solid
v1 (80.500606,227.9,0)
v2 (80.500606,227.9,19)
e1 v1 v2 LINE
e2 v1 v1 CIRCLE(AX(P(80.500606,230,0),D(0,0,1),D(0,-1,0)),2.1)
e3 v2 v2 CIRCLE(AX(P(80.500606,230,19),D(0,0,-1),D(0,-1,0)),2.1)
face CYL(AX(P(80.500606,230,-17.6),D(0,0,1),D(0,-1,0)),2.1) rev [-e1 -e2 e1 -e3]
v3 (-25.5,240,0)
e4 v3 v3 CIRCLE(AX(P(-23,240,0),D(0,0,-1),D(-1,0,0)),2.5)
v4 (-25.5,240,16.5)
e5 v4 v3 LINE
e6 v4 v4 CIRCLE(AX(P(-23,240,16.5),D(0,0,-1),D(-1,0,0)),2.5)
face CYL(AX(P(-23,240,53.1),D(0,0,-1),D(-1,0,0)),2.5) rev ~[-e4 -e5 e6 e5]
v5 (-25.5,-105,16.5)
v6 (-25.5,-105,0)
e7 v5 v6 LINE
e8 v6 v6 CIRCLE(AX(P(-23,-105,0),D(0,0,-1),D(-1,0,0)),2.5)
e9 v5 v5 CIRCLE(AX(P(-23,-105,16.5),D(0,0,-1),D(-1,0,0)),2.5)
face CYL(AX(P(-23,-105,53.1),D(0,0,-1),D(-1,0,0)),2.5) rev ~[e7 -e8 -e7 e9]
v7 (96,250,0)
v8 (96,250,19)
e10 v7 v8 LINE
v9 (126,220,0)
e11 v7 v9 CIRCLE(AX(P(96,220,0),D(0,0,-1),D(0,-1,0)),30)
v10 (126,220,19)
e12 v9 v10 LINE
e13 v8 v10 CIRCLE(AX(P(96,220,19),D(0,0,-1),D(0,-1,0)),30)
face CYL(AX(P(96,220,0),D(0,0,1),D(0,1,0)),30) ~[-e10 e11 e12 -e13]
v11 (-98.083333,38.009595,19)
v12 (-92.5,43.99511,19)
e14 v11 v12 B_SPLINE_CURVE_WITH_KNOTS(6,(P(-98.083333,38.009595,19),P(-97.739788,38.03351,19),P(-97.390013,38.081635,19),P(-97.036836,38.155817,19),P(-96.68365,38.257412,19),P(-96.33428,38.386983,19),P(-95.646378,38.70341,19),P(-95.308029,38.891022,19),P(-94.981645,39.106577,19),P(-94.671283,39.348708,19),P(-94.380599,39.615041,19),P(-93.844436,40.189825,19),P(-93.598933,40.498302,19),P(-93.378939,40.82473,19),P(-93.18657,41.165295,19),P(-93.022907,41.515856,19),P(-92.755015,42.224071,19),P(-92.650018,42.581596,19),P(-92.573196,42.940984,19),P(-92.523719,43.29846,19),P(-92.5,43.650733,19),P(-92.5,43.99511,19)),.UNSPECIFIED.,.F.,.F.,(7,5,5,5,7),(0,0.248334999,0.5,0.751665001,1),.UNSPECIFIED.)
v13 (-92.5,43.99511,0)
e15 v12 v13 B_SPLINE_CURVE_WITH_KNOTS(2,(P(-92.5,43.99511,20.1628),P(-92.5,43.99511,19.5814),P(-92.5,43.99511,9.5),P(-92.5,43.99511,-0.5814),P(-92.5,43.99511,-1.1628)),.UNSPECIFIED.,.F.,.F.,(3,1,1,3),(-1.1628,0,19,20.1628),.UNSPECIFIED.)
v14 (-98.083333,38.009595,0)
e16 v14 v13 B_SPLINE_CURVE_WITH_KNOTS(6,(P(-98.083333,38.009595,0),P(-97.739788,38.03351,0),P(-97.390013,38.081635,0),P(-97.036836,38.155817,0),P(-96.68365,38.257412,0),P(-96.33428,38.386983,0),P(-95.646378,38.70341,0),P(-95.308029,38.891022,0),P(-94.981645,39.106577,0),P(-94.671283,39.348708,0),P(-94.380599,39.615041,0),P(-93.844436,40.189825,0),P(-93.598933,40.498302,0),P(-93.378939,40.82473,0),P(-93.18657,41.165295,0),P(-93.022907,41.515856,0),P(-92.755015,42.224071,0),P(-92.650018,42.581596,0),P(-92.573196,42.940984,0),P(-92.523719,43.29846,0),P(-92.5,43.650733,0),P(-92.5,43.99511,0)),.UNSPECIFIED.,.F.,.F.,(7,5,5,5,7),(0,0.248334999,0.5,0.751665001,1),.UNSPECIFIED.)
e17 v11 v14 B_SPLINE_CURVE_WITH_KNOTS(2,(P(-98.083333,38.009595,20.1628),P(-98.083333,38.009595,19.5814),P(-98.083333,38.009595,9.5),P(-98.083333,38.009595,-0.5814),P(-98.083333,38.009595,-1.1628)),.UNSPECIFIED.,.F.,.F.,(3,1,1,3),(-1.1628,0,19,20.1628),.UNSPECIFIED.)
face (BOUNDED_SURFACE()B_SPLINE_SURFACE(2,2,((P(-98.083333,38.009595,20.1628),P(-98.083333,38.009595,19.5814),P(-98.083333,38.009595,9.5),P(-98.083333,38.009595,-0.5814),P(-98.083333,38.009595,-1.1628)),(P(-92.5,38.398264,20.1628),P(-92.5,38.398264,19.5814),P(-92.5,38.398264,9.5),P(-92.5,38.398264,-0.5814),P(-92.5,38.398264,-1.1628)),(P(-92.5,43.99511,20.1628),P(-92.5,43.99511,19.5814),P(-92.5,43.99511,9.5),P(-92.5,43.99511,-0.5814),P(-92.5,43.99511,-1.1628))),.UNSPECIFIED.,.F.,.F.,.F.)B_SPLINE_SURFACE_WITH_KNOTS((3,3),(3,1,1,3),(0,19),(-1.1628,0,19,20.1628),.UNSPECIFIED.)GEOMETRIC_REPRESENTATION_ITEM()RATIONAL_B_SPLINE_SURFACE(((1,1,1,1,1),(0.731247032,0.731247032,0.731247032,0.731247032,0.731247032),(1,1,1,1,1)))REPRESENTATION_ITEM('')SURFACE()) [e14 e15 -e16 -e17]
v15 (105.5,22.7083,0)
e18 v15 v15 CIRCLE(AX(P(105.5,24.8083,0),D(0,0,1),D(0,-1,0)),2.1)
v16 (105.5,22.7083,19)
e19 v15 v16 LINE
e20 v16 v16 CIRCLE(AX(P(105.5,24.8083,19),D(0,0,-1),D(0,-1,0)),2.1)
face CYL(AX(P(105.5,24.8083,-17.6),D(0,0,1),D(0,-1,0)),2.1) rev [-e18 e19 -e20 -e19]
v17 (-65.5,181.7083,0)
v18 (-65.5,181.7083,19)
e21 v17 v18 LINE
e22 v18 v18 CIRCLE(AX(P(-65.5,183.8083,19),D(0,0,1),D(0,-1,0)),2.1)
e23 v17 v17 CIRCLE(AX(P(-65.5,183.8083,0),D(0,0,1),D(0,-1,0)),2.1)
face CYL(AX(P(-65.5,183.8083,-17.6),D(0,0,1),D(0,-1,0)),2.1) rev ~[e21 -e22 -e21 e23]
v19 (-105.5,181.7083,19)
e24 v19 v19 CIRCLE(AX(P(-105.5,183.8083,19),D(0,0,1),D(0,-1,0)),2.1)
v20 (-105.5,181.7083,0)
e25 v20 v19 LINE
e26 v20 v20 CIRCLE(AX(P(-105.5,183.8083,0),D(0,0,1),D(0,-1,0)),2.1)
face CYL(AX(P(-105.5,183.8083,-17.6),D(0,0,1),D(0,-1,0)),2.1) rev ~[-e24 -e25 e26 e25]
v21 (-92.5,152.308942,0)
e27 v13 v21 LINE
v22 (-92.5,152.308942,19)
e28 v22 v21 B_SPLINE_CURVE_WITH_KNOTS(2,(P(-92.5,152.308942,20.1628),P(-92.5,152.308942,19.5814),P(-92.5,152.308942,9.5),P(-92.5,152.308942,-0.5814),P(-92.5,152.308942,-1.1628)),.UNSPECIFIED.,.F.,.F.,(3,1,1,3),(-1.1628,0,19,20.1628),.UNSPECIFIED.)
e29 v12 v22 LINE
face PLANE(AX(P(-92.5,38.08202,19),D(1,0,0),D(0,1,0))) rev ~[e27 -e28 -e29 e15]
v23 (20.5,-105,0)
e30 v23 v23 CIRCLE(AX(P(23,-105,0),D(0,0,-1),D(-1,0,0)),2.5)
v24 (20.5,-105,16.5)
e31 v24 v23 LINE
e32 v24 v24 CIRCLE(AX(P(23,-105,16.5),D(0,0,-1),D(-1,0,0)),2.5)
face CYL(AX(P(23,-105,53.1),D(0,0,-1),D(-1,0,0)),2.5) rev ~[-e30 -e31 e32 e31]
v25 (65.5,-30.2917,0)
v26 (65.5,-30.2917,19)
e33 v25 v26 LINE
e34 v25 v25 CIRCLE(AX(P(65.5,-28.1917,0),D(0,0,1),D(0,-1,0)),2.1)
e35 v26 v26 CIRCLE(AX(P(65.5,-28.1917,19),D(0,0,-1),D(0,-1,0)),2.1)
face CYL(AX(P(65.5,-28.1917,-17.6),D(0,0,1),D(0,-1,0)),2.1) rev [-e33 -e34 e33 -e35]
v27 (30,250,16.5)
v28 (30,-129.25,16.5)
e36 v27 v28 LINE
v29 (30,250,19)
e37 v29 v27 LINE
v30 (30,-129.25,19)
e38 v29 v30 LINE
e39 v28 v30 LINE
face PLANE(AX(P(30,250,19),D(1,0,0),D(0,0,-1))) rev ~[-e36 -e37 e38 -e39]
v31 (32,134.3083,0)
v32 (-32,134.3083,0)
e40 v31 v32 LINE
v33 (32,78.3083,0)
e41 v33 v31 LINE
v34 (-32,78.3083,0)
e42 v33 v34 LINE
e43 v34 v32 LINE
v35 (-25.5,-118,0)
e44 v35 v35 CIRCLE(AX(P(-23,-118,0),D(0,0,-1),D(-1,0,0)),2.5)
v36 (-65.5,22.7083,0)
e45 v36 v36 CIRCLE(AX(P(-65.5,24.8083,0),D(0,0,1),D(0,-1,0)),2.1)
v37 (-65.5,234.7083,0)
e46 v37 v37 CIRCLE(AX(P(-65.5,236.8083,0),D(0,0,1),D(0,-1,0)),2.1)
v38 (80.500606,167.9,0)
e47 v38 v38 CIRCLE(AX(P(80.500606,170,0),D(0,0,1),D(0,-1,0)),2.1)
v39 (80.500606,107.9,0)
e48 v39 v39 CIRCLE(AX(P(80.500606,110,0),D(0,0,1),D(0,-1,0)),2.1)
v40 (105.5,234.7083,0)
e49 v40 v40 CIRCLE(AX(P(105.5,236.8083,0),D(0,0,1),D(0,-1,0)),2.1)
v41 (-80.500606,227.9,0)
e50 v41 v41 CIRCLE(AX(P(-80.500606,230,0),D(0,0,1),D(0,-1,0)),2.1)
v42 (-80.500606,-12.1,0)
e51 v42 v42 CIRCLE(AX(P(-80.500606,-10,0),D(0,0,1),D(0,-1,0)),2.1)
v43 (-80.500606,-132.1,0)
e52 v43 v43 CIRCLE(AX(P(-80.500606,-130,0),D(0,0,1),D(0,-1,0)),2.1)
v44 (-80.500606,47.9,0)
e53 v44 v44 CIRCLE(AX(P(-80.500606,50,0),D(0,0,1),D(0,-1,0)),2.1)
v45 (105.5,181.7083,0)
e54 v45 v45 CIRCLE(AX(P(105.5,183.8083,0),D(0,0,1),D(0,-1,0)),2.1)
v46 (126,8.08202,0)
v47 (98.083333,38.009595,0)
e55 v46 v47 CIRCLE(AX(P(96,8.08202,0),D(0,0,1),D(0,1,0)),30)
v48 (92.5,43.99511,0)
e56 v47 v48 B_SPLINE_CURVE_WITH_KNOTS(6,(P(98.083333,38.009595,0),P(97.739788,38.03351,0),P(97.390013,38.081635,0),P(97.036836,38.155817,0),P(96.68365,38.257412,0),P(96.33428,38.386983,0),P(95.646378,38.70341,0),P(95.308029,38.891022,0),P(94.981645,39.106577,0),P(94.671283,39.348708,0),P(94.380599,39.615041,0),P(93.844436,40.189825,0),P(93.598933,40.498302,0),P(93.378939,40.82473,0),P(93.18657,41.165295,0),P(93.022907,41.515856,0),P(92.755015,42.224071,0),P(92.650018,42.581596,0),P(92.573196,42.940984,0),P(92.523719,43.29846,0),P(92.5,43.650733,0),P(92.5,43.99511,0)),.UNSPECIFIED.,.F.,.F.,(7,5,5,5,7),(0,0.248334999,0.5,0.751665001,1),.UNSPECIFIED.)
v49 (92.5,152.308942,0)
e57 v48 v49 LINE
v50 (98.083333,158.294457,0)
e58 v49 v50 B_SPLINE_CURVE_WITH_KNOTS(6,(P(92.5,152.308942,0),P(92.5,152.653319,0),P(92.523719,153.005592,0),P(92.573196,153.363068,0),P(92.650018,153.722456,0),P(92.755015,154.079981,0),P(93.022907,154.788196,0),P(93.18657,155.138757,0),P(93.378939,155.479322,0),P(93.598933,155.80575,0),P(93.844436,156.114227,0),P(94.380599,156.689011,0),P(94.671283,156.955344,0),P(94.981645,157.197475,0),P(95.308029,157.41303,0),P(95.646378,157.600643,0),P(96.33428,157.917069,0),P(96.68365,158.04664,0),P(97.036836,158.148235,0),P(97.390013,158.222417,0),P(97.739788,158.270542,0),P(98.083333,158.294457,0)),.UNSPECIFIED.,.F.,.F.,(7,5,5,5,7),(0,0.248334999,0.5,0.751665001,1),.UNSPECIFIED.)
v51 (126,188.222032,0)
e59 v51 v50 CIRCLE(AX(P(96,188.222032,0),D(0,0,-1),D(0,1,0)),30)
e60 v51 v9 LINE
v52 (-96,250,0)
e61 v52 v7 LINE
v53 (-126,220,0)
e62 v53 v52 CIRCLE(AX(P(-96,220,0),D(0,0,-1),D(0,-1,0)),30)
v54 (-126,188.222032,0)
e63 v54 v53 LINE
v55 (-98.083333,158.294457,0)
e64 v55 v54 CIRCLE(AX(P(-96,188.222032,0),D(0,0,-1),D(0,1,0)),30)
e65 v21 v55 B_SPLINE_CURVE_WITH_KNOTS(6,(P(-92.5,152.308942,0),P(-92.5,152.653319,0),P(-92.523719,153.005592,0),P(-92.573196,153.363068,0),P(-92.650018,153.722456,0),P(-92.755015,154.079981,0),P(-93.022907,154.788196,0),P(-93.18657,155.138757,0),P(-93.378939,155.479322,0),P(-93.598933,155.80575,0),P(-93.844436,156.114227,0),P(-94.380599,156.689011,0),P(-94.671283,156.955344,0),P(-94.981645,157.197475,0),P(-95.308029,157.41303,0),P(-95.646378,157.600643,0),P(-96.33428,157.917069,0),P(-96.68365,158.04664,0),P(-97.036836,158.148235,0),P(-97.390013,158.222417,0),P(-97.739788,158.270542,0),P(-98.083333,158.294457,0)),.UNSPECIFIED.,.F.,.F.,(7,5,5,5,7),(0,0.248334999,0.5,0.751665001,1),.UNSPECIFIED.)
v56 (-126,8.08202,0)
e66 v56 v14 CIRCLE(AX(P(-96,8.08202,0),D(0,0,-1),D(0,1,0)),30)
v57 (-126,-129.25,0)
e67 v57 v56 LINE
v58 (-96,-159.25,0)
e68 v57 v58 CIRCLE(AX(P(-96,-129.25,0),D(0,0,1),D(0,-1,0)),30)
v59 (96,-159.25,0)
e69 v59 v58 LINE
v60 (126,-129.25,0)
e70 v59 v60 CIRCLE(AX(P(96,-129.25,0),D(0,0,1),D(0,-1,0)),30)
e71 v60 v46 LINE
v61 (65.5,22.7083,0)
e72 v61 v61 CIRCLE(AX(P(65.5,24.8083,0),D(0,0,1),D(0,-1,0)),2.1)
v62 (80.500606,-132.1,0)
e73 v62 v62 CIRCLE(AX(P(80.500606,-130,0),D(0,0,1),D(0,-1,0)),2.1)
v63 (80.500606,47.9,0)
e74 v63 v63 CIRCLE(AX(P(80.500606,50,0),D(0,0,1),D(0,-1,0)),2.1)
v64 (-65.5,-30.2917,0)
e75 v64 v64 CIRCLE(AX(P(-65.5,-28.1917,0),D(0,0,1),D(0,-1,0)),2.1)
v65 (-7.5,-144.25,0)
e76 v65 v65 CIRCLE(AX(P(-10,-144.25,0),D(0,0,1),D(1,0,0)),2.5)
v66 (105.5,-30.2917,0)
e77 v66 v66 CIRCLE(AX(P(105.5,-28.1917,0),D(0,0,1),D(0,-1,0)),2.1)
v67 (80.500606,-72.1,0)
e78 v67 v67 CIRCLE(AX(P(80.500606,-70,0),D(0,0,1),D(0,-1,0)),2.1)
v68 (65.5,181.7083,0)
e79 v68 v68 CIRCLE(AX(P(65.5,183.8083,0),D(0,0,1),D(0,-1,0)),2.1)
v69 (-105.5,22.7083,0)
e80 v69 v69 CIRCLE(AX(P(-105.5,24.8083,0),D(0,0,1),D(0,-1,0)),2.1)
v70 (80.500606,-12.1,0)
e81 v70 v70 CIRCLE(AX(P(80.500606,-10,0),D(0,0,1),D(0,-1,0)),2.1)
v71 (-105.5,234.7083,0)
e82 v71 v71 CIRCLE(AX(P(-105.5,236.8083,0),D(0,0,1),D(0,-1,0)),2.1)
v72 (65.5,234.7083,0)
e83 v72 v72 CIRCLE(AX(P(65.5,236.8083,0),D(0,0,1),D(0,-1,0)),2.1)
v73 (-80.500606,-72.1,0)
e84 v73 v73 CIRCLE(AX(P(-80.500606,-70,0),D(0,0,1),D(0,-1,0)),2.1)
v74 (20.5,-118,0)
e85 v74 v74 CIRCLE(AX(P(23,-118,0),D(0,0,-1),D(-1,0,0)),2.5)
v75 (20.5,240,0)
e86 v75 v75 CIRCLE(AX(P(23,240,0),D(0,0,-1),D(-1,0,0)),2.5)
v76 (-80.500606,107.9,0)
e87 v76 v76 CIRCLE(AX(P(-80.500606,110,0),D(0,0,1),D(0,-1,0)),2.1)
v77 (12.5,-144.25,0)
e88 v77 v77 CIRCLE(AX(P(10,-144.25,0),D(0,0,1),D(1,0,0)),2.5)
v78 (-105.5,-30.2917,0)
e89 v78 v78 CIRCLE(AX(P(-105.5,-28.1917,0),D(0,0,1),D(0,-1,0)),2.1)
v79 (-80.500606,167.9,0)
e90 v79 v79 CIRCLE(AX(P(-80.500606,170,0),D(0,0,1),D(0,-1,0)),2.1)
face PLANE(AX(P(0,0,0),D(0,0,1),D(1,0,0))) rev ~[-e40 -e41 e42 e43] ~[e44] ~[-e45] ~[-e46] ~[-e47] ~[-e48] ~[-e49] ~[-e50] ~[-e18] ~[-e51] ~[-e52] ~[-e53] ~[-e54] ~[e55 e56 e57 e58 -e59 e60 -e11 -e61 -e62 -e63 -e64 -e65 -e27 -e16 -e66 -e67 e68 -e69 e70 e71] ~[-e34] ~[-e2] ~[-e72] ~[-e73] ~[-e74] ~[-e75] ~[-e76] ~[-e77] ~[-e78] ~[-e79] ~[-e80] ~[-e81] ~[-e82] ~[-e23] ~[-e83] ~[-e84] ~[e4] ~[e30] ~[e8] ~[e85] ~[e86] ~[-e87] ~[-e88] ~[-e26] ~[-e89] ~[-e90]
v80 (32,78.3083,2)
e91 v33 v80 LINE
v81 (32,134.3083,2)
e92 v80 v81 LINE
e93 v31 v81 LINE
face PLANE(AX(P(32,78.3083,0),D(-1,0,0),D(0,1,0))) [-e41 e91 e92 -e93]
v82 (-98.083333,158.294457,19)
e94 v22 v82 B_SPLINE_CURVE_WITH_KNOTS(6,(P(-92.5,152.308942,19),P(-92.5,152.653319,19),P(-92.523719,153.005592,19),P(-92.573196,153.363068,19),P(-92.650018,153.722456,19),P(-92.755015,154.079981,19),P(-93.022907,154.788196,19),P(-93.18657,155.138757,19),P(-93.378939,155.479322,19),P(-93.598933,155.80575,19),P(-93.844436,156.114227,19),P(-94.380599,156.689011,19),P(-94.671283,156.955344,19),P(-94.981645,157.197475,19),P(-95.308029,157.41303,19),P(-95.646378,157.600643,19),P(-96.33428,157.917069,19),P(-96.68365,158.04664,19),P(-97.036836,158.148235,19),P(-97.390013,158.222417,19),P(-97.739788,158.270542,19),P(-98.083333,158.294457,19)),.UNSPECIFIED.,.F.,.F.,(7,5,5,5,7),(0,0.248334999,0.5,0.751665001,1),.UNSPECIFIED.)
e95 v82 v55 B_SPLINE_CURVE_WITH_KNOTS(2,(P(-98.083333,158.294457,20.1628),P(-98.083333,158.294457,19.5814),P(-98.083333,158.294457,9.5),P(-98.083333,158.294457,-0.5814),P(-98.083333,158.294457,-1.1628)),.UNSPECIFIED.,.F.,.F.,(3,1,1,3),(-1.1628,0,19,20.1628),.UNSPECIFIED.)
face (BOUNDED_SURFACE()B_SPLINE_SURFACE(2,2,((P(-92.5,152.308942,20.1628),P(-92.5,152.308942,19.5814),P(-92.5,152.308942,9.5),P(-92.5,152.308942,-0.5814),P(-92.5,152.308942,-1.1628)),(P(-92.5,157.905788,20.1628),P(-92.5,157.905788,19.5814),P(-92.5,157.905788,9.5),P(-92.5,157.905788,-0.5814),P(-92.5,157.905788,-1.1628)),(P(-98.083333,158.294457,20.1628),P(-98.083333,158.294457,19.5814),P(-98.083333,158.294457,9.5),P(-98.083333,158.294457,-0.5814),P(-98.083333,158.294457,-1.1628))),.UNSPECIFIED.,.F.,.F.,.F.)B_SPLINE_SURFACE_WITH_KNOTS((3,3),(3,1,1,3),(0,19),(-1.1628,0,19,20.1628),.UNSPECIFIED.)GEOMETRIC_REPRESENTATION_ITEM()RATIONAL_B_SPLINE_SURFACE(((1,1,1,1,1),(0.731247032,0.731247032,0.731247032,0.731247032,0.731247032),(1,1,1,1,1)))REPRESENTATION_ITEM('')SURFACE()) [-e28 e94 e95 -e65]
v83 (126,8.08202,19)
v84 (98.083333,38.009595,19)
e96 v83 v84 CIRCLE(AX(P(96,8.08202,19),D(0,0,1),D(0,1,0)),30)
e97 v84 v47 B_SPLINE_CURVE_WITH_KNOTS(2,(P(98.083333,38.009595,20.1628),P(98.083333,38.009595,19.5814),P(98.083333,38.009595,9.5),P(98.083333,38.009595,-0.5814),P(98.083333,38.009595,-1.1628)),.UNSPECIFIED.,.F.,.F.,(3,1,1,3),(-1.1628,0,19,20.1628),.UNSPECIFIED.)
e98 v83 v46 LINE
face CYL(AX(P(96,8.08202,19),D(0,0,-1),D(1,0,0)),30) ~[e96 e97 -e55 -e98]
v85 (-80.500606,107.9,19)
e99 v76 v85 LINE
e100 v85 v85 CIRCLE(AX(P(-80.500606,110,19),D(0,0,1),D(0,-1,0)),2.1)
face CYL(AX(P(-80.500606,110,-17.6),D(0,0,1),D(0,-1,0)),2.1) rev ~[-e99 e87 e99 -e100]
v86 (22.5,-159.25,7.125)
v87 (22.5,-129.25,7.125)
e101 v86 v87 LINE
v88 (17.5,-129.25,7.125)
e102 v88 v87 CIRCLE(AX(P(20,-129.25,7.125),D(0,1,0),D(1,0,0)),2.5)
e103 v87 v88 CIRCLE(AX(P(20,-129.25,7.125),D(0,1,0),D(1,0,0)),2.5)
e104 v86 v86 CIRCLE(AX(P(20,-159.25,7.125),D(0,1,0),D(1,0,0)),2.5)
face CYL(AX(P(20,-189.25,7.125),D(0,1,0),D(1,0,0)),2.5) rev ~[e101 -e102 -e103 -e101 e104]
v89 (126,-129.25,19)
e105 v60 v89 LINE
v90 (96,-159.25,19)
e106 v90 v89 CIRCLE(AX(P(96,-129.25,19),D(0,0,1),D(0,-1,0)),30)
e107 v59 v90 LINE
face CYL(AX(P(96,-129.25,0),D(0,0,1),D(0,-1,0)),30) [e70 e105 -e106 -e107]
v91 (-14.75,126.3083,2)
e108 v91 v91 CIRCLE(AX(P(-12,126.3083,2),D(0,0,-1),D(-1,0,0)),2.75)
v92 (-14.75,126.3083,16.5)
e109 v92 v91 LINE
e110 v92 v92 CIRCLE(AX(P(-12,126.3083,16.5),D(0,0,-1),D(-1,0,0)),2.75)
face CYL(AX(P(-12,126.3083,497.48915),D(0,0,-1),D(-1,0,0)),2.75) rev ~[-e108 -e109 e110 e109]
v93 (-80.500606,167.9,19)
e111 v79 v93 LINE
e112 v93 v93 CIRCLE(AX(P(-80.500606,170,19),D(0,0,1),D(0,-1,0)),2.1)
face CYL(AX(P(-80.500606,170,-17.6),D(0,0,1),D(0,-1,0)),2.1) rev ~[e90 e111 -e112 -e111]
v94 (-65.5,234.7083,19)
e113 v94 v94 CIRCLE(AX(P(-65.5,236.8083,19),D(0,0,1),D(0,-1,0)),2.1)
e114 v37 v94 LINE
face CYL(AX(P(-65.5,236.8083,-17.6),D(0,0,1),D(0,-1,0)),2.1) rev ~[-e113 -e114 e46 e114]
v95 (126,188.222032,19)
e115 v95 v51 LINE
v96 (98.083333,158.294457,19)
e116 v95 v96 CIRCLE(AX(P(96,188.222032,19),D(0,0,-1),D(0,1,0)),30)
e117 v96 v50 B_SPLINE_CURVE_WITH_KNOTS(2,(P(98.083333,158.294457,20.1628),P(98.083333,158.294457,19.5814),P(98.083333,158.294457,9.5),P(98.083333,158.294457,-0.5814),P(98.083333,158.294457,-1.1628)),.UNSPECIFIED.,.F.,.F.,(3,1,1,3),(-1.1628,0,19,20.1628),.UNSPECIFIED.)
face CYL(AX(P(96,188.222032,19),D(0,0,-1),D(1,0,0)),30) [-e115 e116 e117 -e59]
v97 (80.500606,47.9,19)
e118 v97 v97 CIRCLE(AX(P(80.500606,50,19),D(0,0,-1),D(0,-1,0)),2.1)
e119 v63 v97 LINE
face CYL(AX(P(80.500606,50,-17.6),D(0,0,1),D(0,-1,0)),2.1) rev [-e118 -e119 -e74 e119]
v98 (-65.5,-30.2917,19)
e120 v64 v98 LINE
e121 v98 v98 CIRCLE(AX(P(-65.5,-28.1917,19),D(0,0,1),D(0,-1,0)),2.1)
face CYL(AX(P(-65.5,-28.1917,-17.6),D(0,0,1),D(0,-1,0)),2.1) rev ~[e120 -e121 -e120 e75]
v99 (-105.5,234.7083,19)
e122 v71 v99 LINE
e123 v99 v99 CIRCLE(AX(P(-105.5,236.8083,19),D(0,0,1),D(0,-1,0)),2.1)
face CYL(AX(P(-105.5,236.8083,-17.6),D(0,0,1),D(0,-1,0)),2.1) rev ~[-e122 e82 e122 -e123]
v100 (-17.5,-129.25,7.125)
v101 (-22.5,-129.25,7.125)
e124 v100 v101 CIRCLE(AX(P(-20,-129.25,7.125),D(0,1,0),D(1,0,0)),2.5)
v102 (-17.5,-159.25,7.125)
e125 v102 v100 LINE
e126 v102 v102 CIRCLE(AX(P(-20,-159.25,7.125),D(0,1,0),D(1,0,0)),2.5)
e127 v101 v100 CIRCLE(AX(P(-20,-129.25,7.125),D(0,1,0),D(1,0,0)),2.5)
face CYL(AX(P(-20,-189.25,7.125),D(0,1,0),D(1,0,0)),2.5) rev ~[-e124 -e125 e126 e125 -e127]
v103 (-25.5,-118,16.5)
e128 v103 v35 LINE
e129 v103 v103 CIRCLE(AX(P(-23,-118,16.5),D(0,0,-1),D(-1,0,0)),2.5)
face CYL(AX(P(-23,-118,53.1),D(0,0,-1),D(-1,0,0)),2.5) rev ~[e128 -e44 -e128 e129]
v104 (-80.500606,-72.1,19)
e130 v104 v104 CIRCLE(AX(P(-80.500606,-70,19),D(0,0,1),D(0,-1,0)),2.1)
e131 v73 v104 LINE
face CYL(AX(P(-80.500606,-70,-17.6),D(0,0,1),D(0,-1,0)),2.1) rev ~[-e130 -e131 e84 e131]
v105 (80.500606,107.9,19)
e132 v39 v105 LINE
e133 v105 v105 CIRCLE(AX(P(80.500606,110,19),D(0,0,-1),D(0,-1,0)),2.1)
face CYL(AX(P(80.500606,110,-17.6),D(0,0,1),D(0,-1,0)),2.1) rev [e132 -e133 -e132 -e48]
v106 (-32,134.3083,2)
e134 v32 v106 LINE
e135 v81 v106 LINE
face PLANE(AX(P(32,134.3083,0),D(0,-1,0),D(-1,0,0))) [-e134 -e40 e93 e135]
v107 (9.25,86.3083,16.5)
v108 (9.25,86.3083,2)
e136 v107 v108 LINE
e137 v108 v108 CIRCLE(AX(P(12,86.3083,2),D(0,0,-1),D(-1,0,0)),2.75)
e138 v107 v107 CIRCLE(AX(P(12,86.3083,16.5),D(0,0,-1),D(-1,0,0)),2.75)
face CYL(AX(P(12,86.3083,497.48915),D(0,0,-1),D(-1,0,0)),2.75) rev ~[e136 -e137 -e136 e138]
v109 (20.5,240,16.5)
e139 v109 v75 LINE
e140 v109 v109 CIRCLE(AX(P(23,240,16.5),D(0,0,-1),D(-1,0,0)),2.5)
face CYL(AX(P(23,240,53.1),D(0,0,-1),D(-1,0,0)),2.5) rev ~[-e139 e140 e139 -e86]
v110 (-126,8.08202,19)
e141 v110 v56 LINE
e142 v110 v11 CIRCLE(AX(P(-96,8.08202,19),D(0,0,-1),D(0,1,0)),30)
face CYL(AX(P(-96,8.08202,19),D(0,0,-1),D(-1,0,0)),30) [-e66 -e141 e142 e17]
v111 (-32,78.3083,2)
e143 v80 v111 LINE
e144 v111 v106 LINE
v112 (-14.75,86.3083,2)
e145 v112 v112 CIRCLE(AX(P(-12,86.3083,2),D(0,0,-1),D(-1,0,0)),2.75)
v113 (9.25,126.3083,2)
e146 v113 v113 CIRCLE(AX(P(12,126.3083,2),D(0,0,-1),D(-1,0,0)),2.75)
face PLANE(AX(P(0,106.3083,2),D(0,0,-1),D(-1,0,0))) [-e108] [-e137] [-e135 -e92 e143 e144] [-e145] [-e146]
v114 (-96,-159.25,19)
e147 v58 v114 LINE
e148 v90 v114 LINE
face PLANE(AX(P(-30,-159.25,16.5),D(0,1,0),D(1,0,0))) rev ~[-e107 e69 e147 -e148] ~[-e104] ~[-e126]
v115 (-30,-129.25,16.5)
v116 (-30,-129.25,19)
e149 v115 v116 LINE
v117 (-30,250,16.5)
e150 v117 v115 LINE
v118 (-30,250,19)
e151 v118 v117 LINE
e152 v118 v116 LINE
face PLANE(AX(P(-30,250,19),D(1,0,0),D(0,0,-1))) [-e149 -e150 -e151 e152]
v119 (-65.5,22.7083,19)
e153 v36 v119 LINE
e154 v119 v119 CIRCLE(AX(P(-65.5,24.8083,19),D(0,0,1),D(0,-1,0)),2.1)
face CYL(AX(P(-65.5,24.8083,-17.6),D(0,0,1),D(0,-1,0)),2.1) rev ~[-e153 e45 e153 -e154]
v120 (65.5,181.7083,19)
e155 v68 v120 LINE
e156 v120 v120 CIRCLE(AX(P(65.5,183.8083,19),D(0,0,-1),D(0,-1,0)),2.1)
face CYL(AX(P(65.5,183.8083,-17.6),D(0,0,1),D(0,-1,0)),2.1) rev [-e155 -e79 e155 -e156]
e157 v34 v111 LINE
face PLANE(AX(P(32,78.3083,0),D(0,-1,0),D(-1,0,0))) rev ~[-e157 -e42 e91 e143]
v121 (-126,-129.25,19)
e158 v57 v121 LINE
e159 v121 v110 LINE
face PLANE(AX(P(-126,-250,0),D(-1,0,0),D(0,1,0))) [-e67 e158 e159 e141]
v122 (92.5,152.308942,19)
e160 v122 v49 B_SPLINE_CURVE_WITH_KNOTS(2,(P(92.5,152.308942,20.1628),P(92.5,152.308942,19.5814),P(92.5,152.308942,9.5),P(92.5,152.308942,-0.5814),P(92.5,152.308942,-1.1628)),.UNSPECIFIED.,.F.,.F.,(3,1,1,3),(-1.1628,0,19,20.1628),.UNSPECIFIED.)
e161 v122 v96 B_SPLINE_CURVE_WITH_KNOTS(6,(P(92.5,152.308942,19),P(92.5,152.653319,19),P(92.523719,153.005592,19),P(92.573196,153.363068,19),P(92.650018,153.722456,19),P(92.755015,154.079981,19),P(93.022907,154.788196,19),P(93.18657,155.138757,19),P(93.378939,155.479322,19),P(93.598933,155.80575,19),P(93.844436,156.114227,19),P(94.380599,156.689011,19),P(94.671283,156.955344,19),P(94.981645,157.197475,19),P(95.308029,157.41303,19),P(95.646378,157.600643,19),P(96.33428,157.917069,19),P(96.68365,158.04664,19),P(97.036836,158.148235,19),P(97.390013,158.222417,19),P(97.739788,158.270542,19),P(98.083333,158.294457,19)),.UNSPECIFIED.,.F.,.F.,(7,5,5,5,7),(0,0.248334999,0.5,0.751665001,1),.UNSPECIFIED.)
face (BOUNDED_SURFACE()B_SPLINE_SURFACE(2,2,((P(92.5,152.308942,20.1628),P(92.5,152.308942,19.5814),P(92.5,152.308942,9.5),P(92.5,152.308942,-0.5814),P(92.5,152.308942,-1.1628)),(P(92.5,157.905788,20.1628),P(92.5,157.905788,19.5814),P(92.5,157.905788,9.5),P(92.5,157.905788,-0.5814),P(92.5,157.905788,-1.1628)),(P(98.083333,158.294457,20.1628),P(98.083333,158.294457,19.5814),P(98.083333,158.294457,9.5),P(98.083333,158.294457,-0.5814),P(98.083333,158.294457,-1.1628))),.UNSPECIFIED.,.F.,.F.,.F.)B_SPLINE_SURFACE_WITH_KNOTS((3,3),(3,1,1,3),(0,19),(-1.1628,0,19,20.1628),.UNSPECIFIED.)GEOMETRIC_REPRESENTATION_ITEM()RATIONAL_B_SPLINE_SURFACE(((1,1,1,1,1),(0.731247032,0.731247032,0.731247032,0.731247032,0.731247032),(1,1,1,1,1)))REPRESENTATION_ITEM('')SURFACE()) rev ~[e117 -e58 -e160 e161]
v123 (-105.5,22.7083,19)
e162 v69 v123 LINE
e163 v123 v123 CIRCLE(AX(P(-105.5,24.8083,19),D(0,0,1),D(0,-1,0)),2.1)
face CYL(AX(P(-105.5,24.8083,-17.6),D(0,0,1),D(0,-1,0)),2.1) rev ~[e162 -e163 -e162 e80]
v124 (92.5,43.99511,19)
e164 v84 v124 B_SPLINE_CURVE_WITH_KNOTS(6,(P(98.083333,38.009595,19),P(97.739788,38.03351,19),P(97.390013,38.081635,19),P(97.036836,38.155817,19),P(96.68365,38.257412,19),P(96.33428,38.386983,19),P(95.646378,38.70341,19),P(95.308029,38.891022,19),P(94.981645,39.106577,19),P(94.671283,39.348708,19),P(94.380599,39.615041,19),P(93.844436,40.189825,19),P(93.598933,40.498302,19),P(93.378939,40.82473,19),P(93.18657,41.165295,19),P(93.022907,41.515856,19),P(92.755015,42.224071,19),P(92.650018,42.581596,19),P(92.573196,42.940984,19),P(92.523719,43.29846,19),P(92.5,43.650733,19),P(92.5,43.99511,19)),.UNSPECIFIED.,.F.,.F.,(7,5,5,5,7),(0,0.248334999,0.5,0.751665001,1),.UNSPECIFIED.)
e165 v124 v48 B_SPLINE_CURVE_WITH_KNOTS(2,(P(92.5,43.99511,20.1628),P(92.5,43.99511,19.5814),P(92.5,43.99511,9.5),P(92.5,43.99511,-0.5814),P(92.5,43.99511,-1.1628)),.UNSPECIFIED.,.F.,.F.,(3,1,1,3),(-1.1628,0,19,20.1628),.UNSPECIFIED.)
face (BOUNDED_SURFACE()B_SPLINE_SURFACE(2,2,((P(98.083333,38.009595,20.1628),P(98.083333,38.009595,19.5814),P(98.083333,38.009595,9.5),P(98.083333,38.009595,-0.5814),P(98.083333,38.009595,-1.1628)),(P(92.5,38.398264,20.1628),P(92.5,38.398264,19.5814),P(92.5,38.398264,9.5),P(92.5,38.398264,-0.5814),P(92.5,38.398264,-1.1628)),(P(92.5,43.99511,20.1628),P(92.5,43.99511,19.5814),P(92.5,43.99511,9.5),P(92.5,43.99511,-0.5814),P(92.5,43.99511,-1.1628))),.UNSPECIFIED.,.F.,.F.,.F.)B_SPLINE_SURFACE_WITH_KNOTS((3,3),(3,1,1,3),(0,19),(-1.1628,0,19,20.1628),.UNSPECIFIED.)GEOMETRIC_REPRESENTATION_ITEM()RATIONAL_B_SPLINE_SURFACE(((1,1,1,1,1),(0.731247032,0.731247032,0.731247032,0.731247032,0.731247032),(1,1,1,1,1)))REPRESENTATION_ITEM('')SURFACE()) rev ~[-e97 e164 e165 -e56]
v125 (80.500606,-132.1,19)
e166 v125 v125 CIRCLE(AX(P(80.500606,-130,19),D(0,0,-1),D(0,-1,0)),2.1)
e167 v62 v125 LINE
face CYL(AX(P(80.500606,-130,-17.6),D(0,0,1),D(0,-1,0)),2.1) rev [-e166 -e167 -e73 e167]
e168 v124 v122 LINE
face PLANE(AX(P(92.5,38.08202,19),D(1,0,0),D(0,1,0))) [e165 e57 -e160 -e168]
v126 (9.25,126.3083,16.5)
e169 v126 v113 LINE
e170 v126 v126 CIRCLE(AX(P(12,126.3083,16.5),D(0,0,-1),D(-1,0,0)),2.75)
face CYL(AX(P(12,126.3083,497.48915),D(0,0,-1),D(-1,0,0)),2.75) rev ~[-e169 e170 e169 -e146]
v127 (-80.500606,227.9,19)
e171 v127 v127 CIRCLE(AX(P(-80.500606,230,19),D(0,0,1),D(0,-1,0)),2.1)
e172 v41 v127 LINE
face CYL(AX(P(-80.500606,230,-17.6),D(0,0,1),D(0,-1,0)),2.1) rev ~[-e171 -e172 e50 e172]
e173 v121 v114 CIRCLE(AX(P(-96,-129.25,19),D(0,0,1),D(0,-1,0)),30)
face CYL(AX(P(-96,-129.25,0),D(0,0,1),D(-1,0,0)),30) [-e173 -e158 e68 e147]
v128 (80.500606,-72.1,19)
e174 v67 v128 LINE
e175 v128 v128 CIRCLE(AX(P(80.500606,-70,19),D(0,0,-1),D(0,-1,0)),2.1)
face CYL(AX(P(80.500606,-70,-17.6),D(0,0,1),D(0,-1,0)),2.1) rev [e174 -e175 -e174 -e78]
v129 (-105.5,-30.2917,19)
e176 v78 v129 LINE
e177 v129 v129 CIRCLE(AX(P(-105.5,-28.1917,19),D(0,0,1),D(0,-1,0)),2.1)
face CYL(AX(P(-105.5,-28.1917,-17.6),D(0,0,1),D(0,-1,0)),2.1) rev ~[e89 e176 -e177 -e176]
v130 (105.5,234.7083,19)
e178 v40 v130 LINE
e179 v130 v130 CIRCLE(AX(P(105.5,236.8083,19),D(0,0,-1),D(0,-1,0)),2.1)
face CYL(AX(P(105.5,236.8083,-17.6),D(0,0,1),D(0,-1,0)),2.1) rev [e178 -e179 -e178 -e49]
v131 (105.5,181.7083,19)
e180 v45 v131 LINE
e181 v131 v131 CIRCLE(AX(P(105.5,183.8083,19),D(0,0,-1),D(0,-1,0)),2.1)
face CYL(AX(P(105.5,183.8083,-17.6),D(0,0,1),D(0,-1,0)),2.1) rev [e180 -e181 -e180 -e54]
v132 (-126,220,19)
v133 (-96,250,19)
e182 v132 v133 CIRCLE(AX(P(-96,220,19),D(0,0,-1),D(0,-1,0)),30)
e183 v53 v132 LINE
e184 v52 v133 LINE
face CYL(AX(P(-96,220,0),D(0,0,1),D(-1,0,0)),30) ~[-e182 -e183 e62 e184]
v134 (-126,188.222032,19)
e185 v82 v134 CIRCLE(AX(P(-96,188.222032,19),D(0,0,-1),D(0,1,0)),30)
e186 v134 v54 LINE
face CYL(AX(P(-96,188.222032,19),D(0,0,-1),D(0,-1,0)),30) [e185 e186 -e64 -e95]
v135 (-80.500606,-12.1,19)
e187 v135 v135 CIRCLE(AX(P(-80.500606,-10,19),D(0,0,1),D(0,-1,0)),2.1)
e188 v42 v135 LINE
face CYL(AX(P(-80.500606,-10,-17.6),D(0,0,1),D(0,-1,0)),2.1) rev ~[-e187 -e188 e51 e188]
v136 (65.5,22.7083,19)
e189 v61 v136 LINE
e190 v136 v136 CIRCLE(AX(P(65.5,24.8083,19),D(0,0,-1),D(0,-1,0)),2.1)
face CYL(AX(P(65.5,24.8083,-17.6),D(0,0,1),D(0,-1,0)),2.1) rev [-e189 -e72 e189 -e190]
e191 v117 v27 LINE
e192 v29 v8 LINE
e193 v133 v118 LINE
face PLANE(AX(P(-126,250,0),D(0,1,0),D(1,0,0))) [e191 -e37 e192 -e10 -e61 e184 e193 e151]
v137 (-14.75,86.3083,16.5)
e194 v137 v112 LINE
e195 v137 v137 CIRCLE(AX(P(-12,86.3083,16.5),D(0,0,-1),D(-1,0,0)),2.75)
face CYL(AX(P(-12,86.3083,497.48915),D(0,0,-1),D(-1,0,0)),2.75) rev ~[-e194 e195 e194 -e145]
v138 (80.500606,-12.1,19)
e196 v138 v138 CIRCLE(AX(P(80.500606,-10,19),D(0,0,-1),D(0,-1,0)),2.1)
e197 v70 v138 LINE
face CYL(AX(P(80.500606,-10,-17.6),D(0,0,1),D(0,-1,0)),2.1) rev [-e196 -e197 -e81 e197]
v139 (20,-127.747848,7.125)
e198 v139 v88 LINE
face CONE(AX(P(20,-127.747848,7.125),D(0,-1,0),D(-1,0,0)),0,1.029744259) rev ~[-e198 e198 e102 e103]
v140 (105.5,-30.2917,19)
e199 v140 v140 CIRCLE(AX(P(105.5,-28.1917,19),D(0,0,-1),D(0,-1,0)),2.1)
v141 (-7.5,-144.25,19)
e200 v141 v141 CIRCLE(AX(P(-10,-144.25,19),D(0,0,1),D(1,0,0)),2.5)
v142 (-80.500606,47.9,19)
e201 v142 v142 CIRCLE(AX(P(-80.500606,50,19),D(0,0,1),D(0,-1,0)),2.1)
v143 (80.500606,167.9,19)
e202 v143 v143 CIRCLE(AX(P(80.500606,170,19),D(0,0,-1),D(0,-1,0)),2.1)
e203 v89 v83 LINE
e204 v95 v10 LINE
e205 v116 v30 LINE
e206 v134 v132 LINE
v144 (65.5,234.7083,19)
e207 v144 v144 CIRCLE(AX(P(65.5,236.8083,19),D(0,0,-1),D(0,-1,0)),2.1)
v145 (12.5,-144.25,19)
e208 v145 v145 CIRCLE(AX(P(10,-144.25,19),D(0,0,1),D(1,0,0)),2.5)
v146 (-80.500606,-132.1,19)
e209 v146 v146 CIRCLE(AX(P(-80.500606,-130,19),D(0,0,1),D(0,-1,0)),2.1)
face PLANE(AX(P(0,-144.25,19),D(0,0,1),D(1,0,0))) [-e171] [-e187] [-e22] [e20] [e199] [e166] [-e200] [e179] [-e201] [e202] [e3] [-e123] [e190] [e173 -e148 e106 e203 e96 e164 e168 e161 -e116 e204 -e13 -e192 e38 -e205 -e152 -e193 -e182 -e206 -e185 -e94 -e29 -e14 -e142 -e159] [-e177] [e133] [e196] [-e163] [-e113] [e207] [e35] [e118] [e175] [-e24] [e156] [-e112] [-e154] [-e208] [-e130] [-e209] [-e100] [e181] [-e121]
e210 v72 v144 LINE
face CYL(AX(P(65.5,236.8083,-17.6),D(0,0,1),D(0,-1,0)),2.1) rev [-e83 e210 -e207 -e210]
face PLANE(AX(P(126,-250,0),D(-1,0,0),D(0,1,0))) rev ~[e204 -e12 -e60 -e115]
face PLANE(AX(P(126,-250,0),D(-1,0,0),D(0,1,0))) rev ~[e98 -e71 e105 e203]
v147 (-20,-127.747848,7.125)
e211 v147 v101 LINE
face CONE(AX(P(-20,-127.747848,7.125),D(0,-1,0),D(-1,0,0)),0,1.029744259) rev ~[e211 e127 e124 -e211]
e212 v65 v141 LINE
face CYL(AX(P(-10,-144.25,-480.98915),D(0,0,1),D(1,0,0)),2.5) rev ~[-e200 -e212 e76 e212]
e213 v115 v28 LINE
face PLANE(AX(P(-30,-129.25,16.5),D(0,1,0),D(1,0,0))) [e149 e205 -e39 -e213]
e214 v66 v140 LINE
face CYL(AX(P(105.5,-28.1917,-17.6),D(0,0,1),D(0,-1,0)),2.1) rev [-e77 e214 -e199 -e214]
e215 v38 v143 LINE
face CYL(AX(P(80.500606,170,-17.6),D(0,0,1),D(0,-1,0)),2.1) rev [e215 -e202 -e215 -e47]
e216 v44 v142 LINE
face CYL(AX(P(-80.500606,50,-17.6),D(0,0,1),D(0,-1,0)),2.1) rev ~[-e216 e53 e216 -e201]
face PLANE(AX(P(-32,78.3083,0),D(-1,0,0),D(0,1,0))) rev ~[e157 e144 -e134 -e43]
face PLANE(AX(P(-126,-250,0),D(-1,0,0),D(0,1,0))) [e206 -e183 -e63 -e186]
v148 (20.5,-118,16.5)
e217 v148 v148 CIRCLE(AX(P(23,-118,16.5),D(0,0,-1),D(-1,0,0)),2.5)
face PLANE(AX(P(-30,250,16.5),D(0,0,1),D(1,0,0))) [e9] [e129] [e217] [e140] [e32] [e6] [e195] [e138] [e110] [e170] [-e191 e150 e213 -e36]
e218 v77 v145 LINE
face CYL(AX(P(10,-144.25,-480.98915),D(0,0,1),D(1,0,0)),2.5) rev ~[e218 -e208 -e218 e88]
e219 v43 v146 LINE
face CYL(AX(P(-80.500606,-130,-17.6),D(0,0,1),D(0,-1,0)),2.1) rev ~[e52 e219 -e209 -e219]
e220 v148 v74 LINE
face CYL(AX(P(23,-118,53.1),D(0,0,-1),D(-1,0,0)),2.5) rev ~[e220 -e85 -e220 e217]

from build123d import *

# Parameters (mm, degrees)
SCHIZZO1_W                       = 252
SCHIZZO1_H                       = 500
ESTRUSIONE_ESTRUSIONE1_DEPTH     = 19
SCHIZZO3_W                       = 60
SCHIZZO3_H                       = 2.5
TAGLIO_ESTRUSIONE1_DEPTH         = 501
TAP_DRILL_FOR_M5_TAP2_AT_2_COUNT = 2
TAP_DRILL_FOR_M5_TAP2_AT_2_PITCH = 60
TAP_DRILL_FOR_M5_TAP2_AT_3_COUNT = 2
TAP_DRILL_FOR_M5_TAP2_AT_3_PITCH = 120
TAP_DRILL_FOR_M5_TAP2_AT_4_COUNT = 2
TAP_DRILL_FOR_M5_TAP2_AT_4_PITCH = 180
TAP_DRILL_FOR_M5_TAP2_AT_5_COUNT = 2
TAP_DRILL_FOR_M5_TAP2_AT_5_PITCH = 240
TAP_DRILL_FOR_M5_TAP2_AT_6_COUNT = 2
TAP_DRILL_FOR_M5_TAP2_AT_6_PITCH = 300
TAP_DRILL_FOR_M5_TAP2_AT_7_COUNT = 2
TAP_DRILL_FOR_M5_TAP2_AT_7_PITCH = 360
TAP_DRILL_FOR_M5_TAP1_AT_2_COUNT = 2
TAP_DRILL_FOR_M5_TAP1_AT_2_PITCH = 40
TAP_DRILL_FOR_M5_TAP1_AT_3_COUNT = 2
TAP_DRILL_FOR_M5_TAP1_AT_3_PITCH = 53
TAP_DRILL_FOR_M5_TAP1_AT_4_COUNT = 2
TAP_DRILL_FOR_M5_TAP1_AT_4_PITCH = 66.400301204
TAP_DRILL_FOR_M5_TAP1_AT_5_COUNT = 2
TAP_DRILL_FOR_M5_TAP1_AT_5_PITCH = 265.000000001
TAP_DRILL_FOR_M5_TAP1_AT_6_COUNT = 2
TAP_DRILL_FOR_M5_TAP1_AT_6_PITCH = 268.001865666
TAP_DRILL_FOR_M5_TAP1_AT_7_COUNT = 2
TAP_DRILL_FOR_M5_TAP1_AT_7_PITCH = 215.740584963
TAP_DRILL_FOR_M5_TAP1_AT_8_COUNT = 2
TAP_DRILL_FOR_M5_TAP1_AT_8_PITCH = 212.000000001
TAP_DRILL_FOR_M6_TAP4_D          = 5
TAP_DRILL_FOR_M6_TAP4_DEPTH      = 36.6
TAP_DRILL_FOR_M6_TAP4_TIP        = 1.502151548
SKETCH16_W                       = 252
SKETCH16_H                       = 158.679931771
CUT_EXTRUDE1_DEPTH               = 28
SKETCH26_W                       = 60
SKETCH26_H                       = 30
BOSS_EXTRUDE1_DEPTH              = 2.5
M5_CLEARANCE_HOLE1_D             = 5.5
TAP_DRILL_FOR_M6_TAP2_D          = 5
TAP_DRILL_FOR_M6_TAP2_DEPTH      = 30
TAP_DRILL_FOR_M6_TAP2_TIP        = 1.502151548
TAP_DRILL_FOR_M6_TAP3_D          = 5
SKETCH27_W                       = 33.5
SKETCH27_H                       = 120.140011943
CUT_EXTRUDE2_DEPTH               = 76.991082214
FILLET1_R                        = 30
FILLET2_R                        = 30
FILLET3_R                        = 6
SKETCH28_W                       = 64
SKETCH28_H                       = 56
CUT_EXTRUDE3_DEPTH               = 2


with BuildPart() as part:
    # Schizzo1 → Estrusione-Estrusione1 (new body)
    with BuildSketch(Plane.XY):
        Rectangle(SCHIZZO1_W, SCHIZZO1_H)
    extrude(amount=ESTRUSIONE_ESTRUSIONE1_DEPTH)

    # Schizzo3 → Taglio-Estrusione1 (cut, through all)
    with BuildSketch(Plane(origin=(0, 250, 0), x_dir=(1, 0, 0), z_dir=(0, 1, 0))):
        with Locations((0, -17.75)):
            Rectangle(SCHIZZO3_W, SCHIZZO3_H)
    extrude(amount=-TAGLIO_ESTRUSIONE1_DEPTH, mode=Mode.SUBTRACT)

    # Sketch8 → Tap Drill for M5 Tap2 (revolve, cut)
    with BuildSketch(Plane(origin=(80.500605801, -130, 19), x_dir=(0, -1, 0), z_dir=(1, 0, 0))):
        Polygon((0, 0), (0, 37.8618073), (2.1, 36.6), (2.1, 0), align=None)
    tap_drill_for_m5_tap2 = revolve(axis=Axis((80.500605801, -130, 25.35), (0, 0, -1)), mode=Mode.SUBTRACT)

    # Tap Drill for M5 Tap2 at 2: Tap Drill for M5 Tap2 ×2
    with Locations(*[(0, i * TAP_DRILL_FOR_M5_TAP2_AT_2_PITCH, 0) for i in range(1, TAP_DRILL_FOR_M5_TAP2_AT_2_COUNT)]):
        add(tap_drill_for_m5_tap2, mode=Mode.SUBTRACT)

    # Tap Drill for M5 Tap2 at 3: Tap Drill for M5 Tap2 ×2
    with Locations(*[(0, i * TAP_DRILL_FOR_M5_TAP2_AT_3_PITCH, 0) for i in range(1, TAP_DRILL_FOR_M5_TAP2_AT_3_COUNT)]):
        add(tap_drill_for_m5_tap2, mode=Mode.SUBTRACT)

    # Tap Drill for M5 Tap2 at 4: Tap Drill for M5 Tap2 ×2
    with Locations(*[(0, i * TAP_DRILL_FOR_M5_TAP2_AT_4_PITCH, 0) for i in range(1, TAP_DRILL_FOR_M5_TAP2_AT_4_COUNT)]):
        add(tap_drill_for_m5_tap2, mode=Mode.SUBTRACT)

    # Tap Drill for M5 Tap2 at 5: Tap Drill for M5 Tap2 ×2
    with Locations(*[(0, i * TAP_DRILL_FOR_M5_TAP2_AT_5_PITCH, 0) for i in range(1, TAP_DRILL_FOR_M5_TAP2_AT_5_COUNT)]):
        add(tap_drill_for_m5_tap2, mode=Mode.SUBTRACT)

    # Tap Drill for M5 Tap2 at 6: Tap Drill for M5 Tap2 ×2
    with Locations(*[(0, i * TAP_DRILL_FOR_M5_TAP2_AT_6_PITCH, 0) for i in range(1, TAP_DRILL_FOR_M5_TAP2_AT_6_COUNT)]):
        add(tap_drill_for_m5_tap2, mode=Mode.SUBTRACT)

    # Tap Drill for M5 Tap2 at 7: Tap Drill for M5 Tap2 ×2
    with Locations(*[(0, i * TAP_DRILL_FOR_M5_TAP2_AT_7_PITCH, 0) for i in range(1, TAP_DRILL_FOR_M5_TAP2_AT_7_COUNT)]):
        add(tap_drill_for_m5_tap2, mode=Mode.SUBTRACT)

    # Sketch15 → Tap Drill for M5 Tap1 (revolve, cut)
    with BuildSketch(Plane(origin=(105.5, 236.808299653, 19), x_dir=(0, -1, 0), z_dir=(1, 0, 0))):
        Polygon((0, 0), (0, 37.8618073), (2.1, 36.6), (2.1, 0), align=None)
    tap_drill_for_m5_tap1 = revolve(axis=Axis((105.5, 236.808299653, 25.35), (0, 0, -1)), mode=Mode.SUBTRACT)

    # Tap Drill for M5 Tap1 at 2: Tap Drill for M5 Tap1 ×2
    with Locations(*[(-i * TAP_DRILL_FOR_M5_TAP1_AT_2_PITCH, 0, 0) for i in range(1, TAP_DRILL_FOR_M5_TAP1_AT_2_COUNT)]):
        add(tap_drill_for_m5_tap1, mode=Mode.SUBTRACT)

    # Tap Drill for M5 Tap1 at 3: Tap Drill for M5 Tap1 ×2
    with Locations(*[(0, -i * TAP_DRILL_FOR_M5_TAP1_AT_3_PITCH, 0) for i in range(1, TAP_DRILL_FOR_M5_TAP1_AT_3_COUNT)]):
        add(tap_drill_for_m5_tap1, mode=Mode.SUBTRACT)

    # Tap Drill for M5 Tap1 at 4: Tap Drill for M5 Tap1 ×2
    with Locations(*[Vector(-0.602406906, -0.79818915, 0) * (i * TAP_DRILL_FOR_M5_TAP1_AT_4_PITCH) for i in range(1, TAP_DRILL_FOR_M5_TAP1_AT_4_COUNT)]):
        add(tap_drill_for_m5_tap1, mode=Mode.SUBTRACT)

    # Tap Drill for M5 Tap1 at 5: Tap Drill for M5 Tap1 ×2
    with Locations(*[(0, -i * TAP_DRILL_FOR_M5_TAP1_AT_5_PITCH, 0) for i in range(1, TAP_DRILL_FOR_M5_TAP1_AT_5_COUNT)]):
        add(tap_drill_for_m5_tap1, mode=Mode.SUBTRACT)

    # Tap Drill for M5 Tap1 at 6: Tap Drill for M5 Tap1 ×2
    with Locations(*[Vector(-0.149252692, -0.988799087, 0) * (i * TAP_DRILL_FOR_M5_TAP1_AT_6_PITCH) for i in range(1, TAP_DRILL_FOR_M5_TAP1_AT_6_COUNT)]):
        add(tap_drill_for_m5_tap1, mode=Mode.SUBTRACT)

    # Tap Drill for M5 Tap1 at 7: Tap Drill for M5 Tap1 ×2
    with Locations(*[Vector(-0.185407859, -0.982661654, 0) * (i * TAP_DRILL_FOR_M5_TAP1_AT_7_PITCH) for i in range(1, TAP_DRILL_FOR_M5_TAP1_AT_7_COUNT)]):
        add(tap_drill_for_m5_tap1, mode=Mode.SUBTRACT)

    # Tap Drill for M5 Tap1 at 8: Tap Drill for M5 Tap1 ×2
    with Locations(*[(0, -i * TAP_DRILL_FOR_M5_TAP1_AT_8_PITCH, 0) for i in range(1, TAP_DRILL_FOR_M5_TAP1_AT_8_COUNT)]):
        add(tap_drill_for_m5_tap1, mode=Mode.SUBTRACT)

    # Tap Drill for M6 Tap4
    with Locations(Plane.XY.offset(16.5)):
        with Locations((23, -118), (23, -105), (-23, -118), (-23, -105), (23, 240), (-23, 240)):
            Hole(TAP_DRILL_FOR_M6_TAP4_D / 2, depth=TAP_DRILL_FOR_M6_TAP4_DEPTH)
            with Locations((0, 0, -(TAP_DRILL_FOR_M6_TAP4_DEPTH + TAP_DRILL_FOR_M6_TAP4_TIP / 2))):  # 118° drill point
                Cone(0, TAP_DRILL_FOR_M6_TAP4_D / 2, TAP_DRILL_FOR_M6_TAP4_TIP, mode=Mode.SUBTRACT)

    # Mirror1: Tap Drill for M5 Tap2 across plane
    add(tap_drill_for_m5_tap2.mirror(Plane.ZY), mode=Mode.SUBTRACT)

    # Mirror1 copy 1 sketch → Mirror1 copy 1 (revolve, cut)
    with BuildSketch(Plane(origin=(-80.500605801, -70, 19), x_dir=(0, -1, 0), z_dir=(-1, 0, 0))):
        Polygon((0, 0), (0, -37.8618073), (2.1, -36.6), (2.1, 0), align=None)
    revolve(axis=Axis((-80.500605801, -70, 25.35), (0, 0, 1)), mode=Mode.SUBTRACT)

    # Mirror1 copy 2 sketch → Mirror1 copy 2 (revolve, cut)
    with BuildSketch(Plane(origin=(-80.500605801, -10, 19), x_dir=(0, -1, 0), z_dir=(-1, 0, 0))):
        Polygon((0, 0), (0, -37.8618073), (2.1, -36.6), (2.1, 0), align=None)
    revolve(axis=Axis((-80.500605801, -10, 25.35), (0, 0, 1)), mode=Mode.SUBTRACT)

    # Mirror1 copy 3 sketch → Mirror1 copy 3 (revolve, cut)
    with BuildSketch(Plane(origin=(-80.500605801, 50, 19), x_dir=(0, -1, 0), z_dir=(-1, 0, 0))):
        Polygon((0, 0), (0, -37.8618073), (2.1, -36.6), (2.1, 0), align=None)
    revolve(axis=Axis((-80.500605801, 50, 25.35), (0, 0, 1)), mode=Mode.SUBTRACT)

    # Mirror1 copy 4 sketch → Mirror1 copy 4 (revolve, cut)
    with BuildSketch(Plane(origin=(-80.500605801, 110, 19), x_dir=(0, -1, 0), z_dir=(-1, 0, 0))):
        Polygon((0, 0), (0, -37.8618073), (2.1, -36.6), (2.1, 0), align=None)
    revolve(axis=Axis((-80.500605801, 110, 25.35), (0, 0, 1)), mode=Mode.SUBTRACT)

    # Mirror1 copy 5 sketch → Mirror1 copy 5 (revolve, cut)
    with BuildSketch(Plane(origin=(-80.500605801, 170, 19), x_dir=(0, -1, 0), z_dir=(-1, 0, 0))):
        Polygon((0, 0), (0, -37.8618073), (2.1, -36.6), (2.1, 0), align=None)
    revolve(axis=Axis((-80.500605801, 170, 25.35), (0, 0, 1)), mode=Mode.SUBTRACT)

    # Mirror1 copy 6 sketch → Mirror1 copy 6 (revolve, cut)
    with BuildSketch(Plane(origin=(-80.500605801, 230, 19), x_dir=(0, -1, 0), z_dir=(-1, 0, 0))):
        Polygon((0, 0), (0, -37.8618073), (2.1, -36.6), (2.1, 0), align=None)
    revolve(axis=Axis((-80.500605801, 230, 25.35), (0, 0, 1)), mode=Mode.SUBTRACT)

    # Mirror2: Tap Drill for M5 Tap1 across plane
    add(tap_drill_for_m5_tap1.mirror(Plane.ZY), mode=Mode.SUBTRACT)

    # Mirror2 copy 1 sketch → Mirror2 copy 1 (revolve, cut)
    with BuildSketch(Plane(origin=(-65.5, 236.808299653, 19), x_dir=(0, -1, 0), z_dir=(-1, 0, 0))):
        Polygon((0, 0), (0, -37.8618073), (2.1, -36.6), (2.1, 0), align=None)
    revolve(axis=Axis((-65.5, 236.808299653, 25.35), (0, 0, 1)), mode=Mode.SUBTRACT)

    # Mirror2 copy 2 sketch → Mirror2 copy 2 (revolve, cut)
    with BuildSketch(Plane(origin=(-105.5, 183.808299653, 19), x_dir=(0, -1, 0), z_dir=(-1, 0, 0))):
        Polygon((0, 0), (0, -37.8618073), (2.1, -36.6), (2.1, 0), align=None)
    revolve(axis=Axis((-105.5, 183.808299653, 25.35), (0, 0, 1)), mode=Mode.SUBTRACT)

    # Mirror2 copy 3 sketch → Mirror2 copy 3 (revolve, cut)
    with BuildSketch(Plane(origin=(-65.5, 183.808299653, 19), x_dir=(0, -1, 0), z_dir=(-1, 0, 0))):
        Polygon((0, 0), (0, -37.8618073), (2.1, -36.6), (2.1, 0), align=None)
    revolve(axis=Axis((-65.5, 183.808299653, 25.35), (0, 0, 1)), mode=Mode.SUBTRACT)

    # Mirror2 copy 4 sketch → Mirror2 copy 4 (revolve, cut)
    with BuildSketch(Plane(origin=(-105.5, -28.191700348, 19), x_dir=(0, -1, 0), z_dir=(-1, 0, 0))):
        Polygon((0, 0), (0, -37.8618073), (2.1, -36.6), (2.1, 0), align=None)
    revolve(axis=Axis((-105.5, -28.191700348, 25.35), (0, 0, 1)), mode=Mode.SUBTRACT)

    # Mirror2 copy 5 sketch → Mirror2 copy 5 (revolve, cut)
    with BuildSketch(Plane(origin=(-65.5, -28.191700348, 19), x_dir=(0, -1, 0), z_dir=(-1, 0, 0))):
        Polygon((0, 0), (0, -37.8618073), (2.1, -36.6), (2.1, 0), align=None)
    revolve(axis=Axis((-65.5, -28.191700348, 25.35), (0, 0, 1)), mode=Mode.SUBTRACT)

    # Mirror2 copy 6 sketch → Mirror2 copy 6 (revolve, cut)
    with BuildSketch(Plane(origin=(-65.5, 24.808299652, 19), x_dir=(0, -1, 0), z_dir=(-1, 0, 0))):
        Polygon((0, 0), (0, -37.8618073), (2.1, -36.6), (2.1, 0), align=None)
    revolve(axis=Axis((-65.5, 24.808299652, 25.35), (0, 0, 1)), mode=Mode.SUBTRACT)

    # Mirror2 copy 7 sketch → Mirror2 copy 7 (revolve, cut)
    with BuildSketch(Plane(origin=(-105.5, 24.808299652, 19), x_dir=(0, -1, 0), z_dir=(-1, 0, 0))):
        Polygon((0, 0), (0, -37.8618073), (2.1, -36.6), (2.1, 0), align=None)
    revolve(axis=Axis((-105.5, 24.808299652, 25.35), (0, 0, 1)), mode=Mode.SUBTRACT)

    # Sketch16 → Cut-Extrude1 (cut)
    with BuildSketch(Plane(origin=(0, 0, 0), x_dir=(-1, 0, 0), z_dir=(0, 0, -1))):
        with Locations((0, -238.589965886)):
            Rectangle(SKETCH16_W, SKETCH16_H)
    extrude(amount=-CUT_EXTRUDE1_DEPTH, mode=Mode.SUBTRACT)

    # Sketch26 → Boss-Extrude1 (add)
    with BuildSketch(Plane.XY.offset(16.5)):
        with Locations((0, -144.25)):
            Rectangle(SKETCH26_W, SKETCH26_H)
    extrude(amount=BOSS_EXTRUDE1_DEPTH)

    # M5 Clearance Hole1 (through all)
    with Locations(Plane.XY.offset(16.5)):
        with Locations((-12, 86.308299651), (12, 86.308299651), (12, 126.308299651), (-12, 126.308299651)):
            Hole(M5_CLEARANCE_HOLE1_D / 2)

    # Tap Drill for M6 Tap2
    with Locations(Plane(origin=(0, -159.25, 0), x_dir=(-1, 0, 0), z_dir=(0, -1, 0))):
        with Locations((20, -7.125), (-20, -7.125)):
            Hole(TAP_DRILL_FOR_M6_TAP2_D / 2, depth=TAP_DRILL_FOR_M6_TAP2_DEPTH)
            with Locations((0, 0, -(TAP_DRILL_FOR_M6_TAP2_DEPTH + TAP_DRILL_FOR_M6_TAP2_TIP / 2))):  # 118° drill point
                Cone(0, TAP_DRILL_FOR_M6_TAP2_D / 2, TAP_DRILL_FOR_M6_TAP2_TIP, mode=Mode.SUBTRACT)

    # Tap Drill for M6 Tap3 (through all)
    with Locations(Plane(origin=(0, 0, 0), x_dir=(-1, 0, 0), z_dir=(0, 0, -1))):
        with Locations((-10, -144.25), (10, -144.25)):
            Hole(TAP_DRILL_FOR_M6_TAP3_D / 2)

    # Sketch27 → Cut-Extrude2 (cut)
    with BuildSketch(Plane.XY.offset(19)):
        with Locations((109.25, 98.152026033)):
            Rectangle(SKETCH27_W, SKETCH27_H)
        with Locations((-109.25, 98.152026033)):
            Rectangle(SKETCH27_W, SKETCH27_H)
    extrude(amount=-CUT_EXTRUDE2_DEPTH, mode=Mode.SUBTRACT)

    # Fillet1
    fillet1_edges = [part.edges().sort_by_distance(p)[0] for p in [
        (126, 158.222032004, 9.5),
        (126, 38.082020061, 9.5),
        (-126, 158.222032004, 9.5),
        (-126, 38.082020061, 9.5),
    ]]
    fillet(fillet1_edges, radius=FILLET1_R)

    # Fillet2
    fillet2_edges = [part.edges().sort_by_distance(p)[0] for p in [
        (-126, -159.25, 9.5),
        (126, -159.25, 9.5),
        (-126, 250, 9.5),
        (126, 250, 9.5),
    ]]
    fillet(fillet2_edges, radius=FILLET2_R)

    # Fillet3
    fillet3_edges = [part.edges().sort_by_distance(p)[0] for p in [
        (92.5, 158.222032004, 9.5),
        (92.5, 38.082020061, 9.5),
        (-92.5, 38.082020061, 9.5),
        (-92.5, 158.222032004, 9.5),
    ]]
    fillet(fillet3_edges, radius=FILLET3_R)

    # Sketch28 → Cut-Extrude3 (cut)
    with BuildSketch(Plane(origin=(0, 0, 0), x_dir=(-1, 0, 0), z_dir=(0, 0, -1))):
        with Locations((0, 106.308299651)):
            Rectangle(SKETCH28_W, SKETCH28_H)
    extrude(amount=-CUT_EXTRUDE3_DEPTH, mode=Mode.SUBTRACT)


solid = part.part
